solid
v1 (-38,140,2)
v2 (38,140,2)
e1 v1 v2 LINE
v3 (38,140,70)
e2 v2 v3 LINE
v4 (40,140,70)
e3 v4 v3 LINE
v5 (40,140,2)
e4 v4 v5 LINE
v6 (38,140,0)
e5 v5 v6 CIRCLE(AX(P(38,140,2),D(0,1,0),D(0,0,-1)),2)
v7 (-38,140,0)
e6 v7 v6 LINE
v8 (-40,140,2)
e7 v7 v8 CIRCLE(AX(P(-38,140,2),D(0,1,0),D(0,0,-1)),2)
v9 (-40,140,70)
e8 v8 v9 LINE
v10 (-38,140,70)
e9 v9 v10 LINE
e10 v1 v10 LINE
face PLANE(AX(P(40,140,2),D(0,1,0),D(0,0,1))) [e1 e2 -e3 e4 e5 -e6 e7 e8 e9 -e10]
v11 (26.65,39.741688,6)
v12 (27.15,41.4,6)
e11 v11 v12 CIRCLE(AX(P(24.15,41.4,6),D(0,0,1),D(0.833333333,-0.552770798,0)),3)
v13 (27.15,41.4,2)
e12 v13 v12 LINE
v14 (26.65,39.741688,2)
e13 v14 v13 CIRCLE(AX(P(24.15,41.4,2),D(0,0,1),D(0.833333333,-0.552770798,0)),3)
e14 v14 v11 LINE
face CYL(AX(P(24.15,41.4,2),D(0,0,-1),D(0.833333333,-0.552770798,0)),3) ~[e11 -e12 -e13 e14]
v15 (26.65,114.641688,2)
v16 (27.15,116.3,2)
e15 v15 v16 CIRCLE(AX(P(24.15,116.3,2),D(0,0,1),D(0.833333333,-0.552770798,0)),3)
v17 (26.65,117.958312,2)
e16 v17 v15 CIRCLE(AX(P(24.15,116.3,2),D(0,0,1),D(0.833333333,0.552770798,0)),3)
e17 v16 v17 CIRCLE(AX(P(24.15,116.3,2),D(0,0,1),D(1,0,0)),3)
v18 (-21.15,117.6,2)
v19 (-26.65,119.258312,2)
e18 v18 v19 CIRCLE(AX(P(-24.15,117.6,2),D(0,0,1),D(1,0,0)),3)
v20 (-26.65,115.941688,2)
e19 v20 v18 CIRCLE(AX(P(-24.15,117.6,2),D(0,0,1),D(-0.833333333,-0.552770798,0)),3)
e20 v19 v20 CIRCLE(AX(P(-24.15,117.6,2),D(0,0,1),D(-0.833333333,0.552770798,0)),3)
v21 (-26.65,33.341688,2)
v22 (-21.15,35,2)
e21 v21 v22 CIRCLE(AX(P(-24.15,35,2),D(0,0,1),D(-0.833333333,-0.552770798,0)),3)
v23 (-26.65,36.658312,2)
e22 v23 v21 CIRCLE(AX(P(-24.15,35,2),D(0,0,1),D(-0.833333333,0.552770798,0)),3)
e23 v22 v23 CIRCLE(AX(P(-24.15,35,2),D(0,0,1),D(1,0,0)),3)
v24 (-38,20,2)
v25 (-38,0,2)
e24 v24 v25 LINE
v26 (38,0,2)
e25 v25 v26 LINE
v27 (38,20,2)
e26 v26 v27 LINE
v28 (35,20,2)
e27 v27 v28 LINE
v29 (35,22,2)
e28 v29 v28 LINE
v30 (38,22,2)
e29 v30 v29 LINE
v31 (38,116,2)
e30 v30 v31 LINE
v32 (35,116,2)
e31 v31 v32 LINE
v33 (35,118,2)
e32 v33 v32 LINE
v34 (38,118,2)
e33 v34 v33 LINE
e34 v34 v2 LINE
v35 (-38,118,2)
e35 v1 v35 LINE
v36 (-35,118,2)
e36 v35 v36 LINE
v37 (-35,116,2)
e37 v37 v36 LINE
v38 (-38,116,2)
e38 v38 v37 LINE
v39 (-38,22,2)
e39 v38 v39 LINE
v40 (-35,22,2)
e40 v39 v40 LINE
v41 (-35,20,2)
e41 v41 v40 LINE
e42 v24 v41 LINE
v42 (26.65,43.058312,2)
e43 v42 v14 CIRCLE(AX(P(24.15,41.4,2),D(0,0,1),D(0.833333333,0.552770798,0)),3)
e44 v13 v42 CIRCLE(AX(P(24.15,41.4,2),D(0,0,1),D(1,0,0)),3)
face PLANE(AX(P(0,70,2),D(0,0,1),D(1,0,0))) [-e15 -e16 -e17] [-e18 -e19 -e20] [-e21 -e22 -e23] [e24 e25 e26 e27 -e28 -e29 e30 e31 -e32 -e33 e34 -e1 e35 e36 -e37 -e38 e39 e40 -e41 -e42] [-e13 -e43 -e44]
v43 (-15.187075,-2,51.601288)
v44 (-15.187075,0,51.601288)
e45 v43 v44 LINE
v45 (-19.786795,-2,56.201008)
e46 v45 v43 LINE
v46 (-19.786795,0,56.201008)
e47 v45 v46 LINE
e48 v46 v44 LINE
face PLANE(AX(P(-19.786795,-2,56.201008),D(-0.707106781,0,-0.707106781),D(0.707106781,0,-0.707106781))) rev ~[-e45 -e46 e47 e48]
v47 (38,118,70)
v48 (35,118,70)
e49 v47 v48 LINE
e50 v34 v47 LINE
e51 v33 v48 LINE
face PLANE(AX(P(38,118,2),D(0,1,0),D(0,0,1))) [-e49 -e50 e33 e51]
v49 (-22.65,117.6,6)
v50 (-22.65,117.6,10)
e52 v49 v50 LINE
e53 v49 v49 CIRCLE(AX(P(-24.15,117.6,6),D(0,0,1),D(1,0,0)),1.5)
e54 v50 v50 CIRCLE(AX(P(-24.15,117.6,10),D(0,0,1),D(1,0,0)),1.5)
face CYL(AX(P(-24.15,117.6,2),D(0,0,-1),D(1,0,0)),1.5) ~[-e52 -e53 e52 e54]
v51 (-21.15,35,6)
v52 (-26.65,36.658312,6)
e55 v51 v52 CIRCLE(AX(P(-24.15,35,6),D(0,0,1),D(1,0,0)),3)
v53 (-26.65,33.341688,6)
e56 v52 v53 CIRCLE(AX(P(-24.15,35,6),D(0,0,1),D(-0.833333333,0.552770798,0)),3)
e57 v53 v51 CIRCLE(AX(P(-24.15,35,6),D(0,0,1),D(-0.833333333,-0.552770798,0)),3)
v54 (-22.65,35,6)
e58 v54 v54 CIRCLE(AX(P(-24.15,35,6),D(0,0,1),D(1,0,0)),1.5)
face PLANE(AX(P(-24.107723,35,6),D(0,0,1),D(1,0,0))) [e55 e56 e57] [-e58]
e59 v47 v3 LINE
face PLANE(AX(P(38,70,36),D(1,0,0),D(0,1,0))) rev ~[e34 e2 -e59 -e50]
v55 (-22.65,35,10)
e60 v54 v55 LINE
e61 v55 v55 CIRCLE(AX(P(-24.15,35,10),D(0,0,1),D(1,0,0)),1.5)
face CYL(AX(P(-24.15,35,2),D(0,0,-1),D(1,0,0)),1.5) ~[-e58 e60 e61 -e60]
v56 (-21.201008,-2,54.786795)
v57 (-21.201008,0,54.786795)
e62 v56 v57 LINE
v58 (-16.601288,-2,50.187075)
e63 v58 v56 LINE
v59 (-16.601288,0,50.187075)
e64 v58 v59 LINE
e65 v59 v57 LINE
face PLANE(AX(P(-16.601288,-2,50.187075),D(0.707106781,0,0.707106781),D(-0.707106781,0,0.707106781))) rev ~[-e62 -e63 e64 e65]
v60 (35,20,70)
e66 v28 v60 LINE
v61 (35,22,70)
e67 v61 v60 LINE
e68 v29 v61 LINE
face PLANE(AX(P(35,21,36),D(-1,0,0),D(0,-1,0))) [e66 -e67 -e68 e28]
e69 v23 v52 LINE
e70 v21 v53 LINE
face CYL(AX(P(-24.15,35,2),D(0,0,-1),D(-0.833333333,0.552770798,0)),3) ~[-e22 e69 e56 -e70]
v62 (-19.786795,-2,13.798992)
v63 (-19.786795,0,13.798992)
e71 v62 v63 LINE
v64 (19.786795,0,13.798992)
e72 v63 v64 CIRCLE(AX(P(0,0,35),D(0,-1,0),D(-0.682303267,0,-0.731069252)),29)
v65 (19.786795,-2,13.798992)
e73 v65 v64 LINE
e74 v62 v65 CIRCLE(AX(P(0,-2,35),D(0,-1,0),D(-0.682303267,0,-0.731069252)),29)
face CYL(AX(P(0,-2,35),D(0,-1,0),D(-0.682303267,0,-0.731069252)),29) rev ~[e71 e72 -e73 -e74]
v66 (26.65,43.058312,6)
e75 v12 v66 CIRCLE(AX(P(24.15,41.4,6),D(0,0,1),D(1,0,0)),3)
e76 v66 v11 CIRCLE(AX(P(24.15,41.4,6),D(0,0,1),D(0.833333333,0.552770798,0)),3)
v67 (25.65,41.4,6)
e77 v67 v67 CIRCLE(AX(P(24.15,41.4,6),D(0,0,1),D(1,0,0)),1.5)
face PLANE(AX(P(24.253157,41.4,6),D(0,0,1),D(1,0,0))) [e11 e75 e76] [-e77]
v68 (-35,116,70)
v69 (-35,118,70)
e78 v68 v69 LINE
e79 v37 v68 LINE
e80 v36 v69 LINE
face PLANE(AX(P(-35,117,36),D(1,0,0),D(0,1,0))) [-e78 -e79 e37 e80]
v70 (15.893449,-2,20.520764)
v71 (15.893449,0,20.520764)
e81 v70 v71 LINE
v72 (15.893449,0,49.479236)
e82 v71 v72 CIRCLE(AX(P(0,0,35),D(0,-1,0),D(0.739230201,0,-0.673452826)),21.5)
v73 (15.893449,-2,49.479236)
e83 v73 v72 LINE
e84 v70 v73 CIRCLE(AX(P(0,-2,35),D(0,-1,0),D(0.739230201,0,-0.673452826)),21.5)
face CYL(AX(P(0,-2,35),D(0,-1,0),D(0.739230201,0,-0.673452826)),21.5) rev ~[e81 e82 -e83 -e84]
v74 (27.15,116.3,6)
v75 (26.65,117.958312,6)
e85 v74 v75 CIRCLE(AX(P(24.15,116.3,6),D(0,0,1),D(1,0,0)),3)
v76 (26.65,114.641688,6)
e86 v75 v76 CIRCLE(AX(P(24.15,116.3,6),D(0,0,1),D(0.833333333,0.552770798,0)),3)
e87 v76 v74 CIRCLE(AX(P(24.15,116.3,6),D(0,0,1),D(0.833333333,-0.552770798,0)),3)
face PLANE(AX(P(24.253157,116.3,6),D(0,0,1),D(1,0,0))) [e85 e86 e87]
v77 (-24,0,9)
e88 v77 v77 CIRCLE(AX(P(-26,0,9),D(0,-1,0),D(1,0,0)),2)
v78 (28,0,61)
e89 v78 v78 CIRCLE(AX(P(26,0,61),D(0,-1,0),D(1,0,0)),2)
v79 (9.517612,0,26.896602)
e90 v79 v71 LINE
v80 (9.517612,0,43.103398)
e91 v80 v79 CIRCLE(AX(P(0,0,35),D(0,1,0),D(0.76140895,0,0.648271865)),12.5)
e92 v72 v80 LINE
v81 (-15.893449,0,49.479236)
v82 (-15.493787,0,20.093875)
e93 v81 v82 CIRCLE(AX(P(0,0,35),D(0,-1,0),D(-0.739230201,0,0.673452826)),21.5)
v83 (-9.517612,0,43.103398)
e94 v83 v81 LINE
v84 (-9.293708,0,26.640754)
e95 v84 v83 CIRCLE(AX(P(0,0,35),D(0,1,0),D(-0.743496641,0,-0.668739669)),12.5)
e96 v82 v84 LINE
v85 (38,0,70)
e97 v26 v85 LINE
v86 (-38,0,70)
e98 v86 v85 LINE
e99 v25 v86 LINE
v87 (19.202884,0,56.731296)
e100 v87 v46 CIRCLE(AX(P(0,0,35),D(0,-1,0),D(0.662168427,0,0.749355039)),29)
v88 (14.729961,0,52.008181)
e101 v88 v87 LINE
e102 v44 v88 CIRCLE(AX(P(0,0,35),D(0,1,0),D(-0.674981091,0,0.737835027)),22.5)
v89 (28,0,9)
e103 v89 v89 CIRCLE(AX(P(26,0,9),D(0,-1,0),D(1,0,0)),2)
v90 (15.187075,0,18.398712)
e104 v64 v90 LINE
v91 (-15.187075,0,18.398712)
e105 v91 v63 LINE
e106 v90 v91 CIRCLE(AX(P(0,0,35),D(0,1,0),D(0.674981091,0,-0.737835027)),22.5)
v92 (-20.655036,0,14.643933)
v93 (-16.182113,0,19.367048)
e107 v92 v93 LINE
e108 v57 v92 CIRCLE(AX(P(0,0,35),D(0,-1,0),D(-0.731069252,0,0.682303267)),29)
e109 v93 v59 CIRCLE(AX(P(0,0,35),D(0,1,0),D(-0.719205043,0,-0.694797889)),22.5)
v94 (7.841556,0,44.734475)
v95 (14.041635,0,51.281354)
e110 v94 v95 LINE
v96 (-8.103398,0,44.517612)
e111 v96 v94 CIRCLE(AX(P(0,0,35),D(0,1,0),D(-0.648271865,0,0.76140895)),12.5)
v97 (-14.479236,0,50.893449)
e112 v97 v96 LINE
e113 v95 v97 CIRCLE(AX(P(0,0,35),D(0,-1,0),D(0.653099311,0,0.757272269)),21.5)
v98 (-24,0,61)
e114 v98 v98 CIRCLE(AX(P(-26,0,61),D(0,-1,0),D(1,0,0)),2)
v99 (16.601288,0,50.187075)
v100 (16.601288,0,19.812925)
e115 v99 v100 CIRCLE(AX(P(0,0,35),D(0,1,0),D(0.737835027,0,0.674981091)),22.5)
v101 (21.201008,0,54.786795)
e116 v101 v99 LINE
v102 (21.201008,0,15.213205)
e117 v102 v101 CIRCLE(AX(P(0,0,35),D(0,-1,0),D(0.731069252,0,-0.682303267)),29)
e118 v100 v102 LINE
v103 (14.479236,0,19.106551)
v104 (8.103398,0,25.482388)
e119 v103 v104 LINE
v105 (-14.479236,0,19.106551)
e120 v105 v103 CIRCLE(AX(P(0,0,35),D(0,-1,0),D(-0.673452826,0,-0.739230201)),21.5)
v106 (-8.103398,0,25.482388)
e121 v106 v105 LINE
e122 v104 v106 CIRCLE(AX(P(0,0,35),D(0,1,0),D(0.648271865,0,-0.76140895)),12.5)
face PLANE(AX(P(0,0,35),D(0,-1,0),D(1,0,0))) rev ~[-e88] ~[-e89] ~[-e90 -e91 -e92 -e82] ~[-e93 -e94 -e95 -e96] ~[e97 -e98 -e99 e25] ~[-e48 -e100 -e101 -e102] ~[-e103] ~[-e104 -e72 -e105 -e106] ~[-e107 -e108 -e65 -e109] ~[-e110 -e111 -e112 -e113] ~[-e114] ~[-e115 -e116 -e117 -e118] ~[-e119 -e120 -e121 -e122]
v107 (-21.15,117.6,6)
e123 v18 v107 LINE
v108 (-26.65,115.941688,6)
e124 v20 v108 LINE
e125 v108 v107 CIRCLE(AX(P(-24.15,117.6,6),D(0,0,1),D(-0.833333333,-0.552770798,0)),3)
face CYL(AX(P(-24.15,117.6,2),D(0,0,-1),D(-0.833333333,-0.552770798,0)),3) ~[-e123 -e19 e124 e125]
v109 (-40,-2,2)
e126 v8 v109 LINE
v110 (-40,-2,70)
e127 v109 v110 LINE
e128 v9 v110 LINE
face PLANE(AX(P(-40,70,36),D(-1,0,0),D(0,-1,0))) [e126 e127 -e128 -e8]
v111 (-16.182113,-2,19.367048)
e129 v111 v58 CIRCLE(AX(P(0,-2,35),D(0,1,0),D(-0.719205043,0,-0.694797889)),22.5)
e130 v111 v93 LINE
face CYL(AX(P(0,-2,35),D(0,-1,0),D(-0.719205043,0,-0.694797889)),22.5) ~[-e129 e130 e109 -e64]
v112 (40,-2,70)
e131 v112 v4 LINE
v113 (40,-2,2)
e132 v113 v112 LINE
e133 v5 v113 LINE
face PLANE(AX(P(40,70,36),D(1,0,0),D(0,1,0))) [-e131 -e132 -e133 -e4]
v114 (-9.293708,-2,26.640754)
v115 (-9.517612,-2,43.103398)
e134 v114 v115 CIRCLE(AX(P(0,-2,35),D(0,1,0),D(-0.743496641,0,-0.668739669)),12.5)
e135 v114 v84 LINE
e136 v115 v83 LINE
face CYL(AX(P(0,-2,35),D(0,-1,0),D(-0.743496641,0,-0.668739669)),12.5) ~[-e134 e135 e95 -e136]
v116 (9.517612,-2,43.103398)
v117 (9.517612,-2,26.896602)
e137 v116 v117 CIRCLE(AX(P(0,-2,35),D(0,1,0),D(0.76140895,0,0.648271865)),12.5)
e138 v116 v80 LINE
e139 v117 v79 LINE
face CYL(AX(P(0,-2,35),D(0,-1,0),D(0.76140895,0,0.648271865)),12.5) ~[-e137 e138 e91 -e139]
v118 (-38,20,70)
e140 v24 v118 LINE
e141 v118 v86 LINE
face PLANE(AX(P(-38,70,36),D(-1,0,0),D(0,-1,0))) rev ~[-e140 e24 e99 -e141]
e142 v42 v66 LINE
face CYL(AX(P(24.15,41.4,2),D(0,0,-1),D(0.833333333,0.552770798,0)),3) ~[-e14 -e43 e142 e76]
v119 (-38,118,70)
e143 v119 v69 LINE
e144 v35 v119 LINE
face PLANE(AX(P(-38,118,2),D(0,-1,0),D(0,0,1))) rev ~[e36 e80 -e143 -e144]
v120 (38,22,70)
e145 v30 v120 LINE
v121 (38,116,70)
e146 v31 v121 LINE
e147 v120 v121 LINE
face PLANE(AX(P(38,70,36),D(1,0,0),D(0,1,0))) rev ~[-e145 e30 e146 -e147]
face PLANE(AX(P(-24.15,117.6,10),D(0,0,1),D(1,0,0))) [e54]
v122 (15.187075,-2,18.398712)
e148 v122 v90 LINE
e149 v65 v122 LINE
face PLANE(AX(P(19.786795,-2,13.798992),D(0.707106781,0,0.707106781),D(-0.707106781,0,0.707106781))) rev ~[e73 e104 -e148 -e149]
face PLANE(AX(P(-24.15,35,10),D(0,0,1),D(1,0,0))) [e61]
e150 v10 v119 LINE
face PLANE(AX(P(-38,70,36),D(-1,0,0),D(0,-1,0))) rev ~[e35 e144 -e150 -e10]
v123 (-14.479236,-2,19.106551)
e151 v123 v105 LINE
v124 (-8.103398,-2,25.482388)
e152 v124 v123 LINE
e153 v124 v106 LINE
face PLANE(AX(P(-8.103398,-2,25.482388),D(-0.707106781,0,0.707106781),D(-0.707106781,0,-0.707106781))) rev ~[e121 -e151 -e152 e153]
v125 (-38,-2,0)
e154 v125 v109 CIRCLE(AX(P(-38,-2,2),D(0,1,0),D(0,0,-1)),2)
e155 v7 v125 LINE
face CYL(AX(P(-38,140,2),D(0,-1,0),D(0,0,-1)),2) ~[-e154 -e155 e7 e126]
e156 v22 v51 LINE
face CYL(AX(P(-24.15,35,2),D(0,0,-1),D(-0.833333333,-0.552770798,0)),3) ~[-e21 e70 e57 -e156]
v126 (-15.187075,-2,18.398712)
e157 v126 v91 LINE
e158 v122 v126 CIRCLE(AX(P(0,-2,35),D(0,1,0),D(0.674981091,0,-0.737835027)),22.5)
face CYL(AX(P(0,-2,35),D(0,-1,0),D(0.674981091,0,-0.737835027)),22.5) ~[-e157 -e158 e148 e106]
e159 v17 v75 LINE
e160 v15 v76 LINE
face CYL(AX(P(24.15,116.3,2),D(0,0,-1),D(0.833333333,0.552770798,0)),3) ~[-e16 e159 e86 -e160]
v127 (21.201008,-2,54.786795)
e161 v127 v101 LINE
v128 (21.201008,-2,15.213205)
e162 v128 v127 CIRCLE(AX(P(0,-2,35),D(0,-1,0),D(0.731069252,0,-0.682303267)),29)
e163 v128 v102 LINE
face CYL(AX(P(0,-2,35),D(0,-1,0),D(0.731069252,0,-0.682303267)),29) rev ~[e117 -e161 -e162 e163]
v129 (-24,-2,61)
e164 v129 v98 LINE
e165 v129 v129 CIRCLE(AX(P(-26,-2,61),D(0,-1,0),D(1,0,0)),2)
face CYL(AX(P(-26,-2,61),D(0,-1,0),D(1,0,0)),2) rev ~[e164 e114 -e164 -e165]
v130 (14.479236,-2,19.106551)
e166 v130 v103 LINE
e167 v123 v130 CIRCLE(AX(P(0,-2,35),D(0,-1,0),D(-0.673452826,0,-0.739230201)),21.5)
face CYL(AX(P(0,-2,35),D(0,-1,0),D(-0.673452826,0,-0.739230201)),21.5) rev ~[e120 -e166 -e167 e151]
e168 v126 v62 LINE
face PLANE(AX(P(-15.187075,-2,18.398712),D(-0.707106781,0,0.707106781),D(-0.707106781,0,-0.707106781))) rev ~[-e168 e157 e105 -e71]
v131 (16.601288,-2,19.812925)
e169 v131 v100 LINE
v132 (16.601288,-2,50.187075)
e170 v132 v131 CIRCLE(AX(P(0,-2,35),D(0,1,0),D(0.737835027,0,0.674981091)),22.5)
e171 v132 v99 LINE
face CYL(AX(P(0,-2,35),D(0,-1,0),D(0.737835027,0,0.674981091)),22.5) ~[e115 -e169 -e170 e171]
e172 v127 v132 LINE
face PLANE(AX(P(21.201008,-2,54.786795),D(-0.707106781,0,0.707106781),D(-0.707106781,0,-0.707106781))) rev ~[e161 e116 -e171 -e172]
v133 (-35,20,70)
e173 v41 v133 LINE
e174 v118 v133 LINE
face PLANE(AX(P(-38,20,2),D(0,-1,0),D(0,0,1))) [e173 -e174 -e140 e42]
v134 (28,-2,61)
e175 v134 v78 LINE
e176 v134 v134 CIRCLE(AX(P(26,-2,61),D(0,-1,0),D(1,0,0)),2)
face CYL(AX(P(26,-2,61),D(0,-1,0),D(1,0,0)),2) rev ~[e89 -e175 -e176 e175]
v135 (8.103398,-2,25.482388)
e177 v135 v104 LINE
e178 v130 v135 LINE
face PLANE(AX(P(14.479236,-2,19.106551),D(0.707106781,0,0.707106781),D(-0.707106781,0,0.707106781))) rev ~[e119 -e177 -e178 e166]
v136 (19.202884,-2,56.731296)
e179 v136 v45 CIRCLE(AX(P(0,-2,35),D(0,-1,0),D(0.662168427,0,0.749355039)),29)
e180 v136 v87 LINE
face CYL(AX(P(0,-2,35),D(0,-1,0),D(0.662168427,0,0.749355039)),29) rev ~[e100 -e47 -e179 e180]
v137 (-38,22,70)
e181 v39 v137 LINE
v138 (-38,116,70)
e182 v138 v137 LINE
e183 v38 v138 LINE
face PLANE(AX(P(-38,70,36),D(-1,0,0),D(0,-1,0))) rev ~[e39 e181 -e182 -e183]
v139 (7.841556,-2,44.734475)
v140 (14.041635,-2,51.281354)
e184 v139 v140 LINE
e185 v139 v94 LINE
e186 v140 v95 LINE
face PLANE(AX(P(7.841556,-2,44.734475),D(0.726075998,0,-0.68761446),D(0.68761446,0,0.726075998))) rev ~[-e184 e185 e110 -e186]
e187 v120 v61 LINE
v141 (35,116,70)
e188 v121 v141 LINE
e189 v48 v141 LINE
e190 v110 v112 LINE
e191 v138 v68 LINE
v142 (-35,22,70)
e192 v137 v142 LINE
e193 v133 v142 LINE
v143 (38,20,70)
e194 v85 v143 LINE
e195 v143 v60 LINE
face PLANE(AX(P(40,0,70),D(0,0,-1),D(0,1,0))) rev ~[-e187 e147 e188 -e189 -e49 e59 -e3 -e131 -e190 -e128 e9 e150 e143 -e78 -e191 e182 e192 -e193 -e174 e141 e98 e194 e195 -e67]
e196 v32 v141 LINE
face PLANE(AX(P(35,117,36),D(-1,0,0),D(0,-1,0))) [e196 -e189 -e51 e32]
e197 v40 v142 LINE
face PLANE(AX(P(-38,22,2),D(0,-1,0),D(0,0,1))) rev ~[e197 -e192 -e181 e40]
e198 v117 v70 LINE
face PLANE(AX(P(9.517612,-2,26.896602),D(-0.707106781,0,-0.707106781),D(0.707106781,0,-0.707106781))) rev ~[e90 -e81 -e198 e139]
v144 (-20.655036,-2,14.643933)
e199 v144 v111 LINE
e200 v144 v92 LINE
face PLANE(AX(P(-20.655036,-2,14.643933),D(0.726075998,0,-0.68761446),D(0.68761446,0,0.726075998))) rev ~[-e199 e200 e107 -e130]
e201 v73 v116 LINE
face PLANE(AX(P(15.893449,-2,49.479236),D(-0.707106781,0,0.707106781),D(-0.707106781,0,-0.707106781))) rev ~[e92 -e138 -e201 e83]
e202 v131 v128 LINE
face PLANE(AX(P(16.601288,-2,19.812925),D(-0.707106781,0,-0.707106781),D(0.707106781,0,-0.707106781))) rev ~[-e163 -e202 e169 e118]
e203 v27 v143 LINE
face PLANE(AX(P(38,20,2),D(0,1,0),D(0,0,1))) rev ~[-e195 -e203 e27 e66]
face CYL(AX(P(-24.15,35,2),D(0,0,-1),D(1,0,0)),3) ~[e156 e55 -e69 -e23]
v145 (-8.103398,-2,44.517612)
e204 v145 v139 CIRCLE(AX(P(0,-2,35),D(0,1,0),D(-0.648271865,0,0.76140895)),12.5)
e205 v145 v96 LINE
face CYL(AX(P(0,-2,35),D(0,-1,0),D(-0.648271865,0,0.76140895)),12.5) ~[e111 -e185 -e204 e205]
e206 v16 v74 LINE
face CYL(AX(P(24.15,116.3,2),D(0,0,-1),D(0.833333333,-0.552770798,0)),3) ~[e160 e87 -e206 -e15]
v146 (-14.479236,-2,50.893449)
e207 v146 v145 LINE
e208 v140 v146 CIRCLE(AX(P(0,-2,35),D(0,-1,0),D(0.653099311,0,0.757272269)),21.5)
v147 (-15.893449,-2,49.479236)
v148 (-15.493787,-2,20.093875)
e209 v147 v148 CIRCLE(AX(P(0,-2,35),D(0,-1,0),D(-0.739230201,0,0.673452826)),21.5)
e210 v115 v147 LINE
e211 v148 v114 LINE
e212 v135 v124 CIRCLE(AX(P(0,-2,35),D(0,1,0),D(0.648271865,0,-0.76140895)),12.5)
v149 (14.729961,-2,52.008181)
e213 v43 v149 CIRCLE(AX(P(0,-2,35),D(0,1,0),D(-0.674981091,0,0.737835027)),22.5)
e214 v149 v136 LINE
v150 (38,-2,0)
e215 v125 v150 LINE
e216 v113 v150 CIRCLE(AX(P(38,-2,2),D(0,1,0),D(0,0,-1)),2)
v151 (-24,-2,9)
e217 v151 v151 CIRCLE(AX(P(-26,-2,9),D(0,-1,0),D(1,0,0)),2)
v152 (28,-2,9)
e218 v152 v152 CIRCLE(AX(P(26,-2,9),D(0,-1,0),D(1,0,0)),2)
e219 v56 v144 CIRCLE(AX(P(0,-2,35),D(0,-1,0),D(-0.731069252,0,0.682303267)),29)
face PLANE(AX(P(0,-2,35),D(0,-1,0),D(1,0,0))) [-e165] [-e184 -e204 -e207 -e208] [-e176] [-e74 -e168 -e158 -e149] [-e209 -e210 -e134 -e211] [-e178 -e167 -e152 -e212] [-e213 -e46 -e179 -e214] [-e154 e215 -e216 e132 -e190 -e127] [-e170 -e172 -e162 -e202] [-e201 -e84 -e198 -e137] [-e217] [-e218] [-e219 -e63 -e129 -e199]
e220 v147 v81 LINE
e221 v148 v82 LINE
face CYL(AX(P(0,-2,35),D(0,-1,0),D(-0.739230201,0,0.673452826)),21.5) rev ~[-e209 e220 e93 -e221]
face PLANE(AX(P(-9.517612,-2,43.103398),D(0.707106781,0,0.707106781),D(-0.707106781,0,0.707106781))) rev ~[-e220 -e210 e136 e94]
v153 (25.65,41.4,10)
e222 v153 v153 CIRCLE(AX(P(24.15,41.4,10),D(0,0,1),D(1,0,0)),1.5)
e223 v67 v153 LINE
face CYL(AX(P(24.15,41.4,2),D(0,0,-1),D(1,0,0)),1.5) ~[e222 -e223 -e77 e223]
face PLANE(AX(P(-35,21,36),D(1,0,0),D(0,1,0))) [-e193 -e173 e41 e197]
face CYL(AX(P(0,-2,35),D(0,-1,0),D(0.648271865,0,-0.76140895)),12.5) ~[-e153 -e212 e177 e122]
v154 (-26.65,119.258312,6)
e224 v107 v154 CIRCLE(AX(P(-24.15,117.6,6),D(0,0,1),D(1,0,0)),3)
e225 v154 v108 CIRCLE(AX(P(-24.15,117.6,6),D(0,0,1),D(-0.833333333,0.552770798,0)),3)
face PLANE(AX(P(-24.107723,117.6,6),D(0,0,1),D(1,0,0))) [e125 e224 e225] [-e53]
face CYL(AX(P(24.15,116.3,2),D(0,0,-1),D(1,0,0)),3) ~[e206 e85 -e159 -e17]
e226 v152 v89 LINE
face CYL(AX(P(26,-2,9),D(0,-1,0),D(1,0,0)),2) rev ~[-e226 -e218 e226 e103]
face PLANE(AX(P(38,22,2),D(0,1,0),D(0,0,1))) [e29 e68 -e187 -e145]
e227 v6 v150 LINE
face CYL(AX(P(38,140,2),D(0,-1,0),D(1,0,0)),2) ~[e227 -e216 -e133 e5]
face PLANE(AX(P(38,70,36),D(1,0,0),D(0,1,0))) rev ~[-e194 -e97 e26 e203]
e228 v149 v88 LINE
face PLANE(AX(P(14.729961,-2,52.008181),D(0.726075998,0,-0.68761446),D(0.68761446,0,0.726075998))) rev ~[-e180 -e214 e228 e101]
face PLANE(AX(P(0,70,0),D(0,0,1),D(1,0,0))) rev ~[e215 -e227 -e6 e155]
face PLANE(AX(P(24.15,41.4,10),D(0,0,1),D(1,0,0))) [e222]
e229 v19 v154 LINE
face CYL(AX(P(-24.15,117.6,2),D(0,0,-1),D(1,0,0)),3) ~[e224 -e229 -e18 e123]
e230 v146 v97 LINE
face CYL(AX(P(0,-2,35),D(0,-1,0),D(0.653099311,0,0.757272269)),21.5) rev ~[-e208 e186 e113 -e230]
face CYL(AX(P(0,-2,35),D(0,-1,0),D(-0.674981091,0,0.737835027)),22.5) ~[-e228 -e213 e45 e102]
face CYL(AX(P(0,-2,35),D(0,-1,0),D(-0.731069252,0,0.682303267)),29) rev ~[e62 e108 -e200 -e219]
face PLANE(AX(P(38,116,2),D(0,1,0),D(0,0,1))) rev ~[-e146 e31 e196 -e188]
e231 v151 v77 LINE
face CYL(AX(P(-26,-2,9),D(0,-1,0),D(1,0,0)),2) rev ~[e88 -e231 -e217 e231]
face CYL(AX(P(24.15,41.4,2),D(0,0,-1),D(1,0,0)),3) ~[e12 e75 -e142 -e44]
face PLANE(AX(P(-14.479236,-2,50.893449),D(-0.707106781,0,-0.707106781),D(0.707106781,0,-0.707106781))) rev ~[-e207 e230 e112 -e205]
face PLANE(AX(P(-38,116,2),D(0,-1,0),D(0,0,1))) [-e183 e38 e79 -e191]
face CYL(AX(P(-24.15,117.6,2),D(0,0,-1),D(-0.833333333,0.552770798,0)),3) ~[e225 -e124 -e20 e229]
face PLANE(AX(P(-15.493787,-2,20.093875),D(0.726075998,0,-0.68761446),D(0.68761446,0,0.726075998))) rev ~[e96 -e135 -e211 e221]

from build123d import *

# Parameters (mm, degrees)
F0_W      = 80
F0_H      = 70
F1_DEPTH  = 2
F2_W      = 80
F2_H      = 140
F3_DEPTH  = 2
F4_W      = 140
F4_H      = 68
F5_DEPTH  = 2
F6_W      = 140
F6_H      = 68
F7_DEPTH  = 2
F8_R      = 2
F9_DEPTH  = 2
F10_R     = 2
F11_R     = 1.5
F12_DEPTH = 4
F13_DEPTH = 8
F14_DEPTH = 8
F15_W     = 2
F15_H     = 68
F16_DEPTH = 3
F17_W     = 2
F17_H     = 68
F18_DEPTH = 3


with BuildPart() as f1:
    # F0 (on Front) → F1 (new body)
    with BuildSketch(Plane.XZ):
        with Locations((0, 35)):
            Rectangle(F0_W, F0_H)
    extrude(amount=F1_DEPTH)

    # F2 (on Top) → F3 (join)
    with BuildSketch(Plane.XY):
        with Locations((0, 70)):
            Rectangle(F2_W, F2_H)
    extrude(amount=F3_DEPTH)

    # F4 (on face) → F5 (join)
    with BuildSketch(Plane(origin=(-40, 0, 0), x_dir=(0, -1, 0), z_dir=(-1, 0, 0))):
        with Locations((-70, 36)):
            Rectangle(F4_W, F4_H)
    extrude(amount=-F5_DEPTH)

    # F6 (on face) → F7 (join)
    with BuildSketch(Plane.YZ.offset(40)):
        with Locations((70, 36)):
            Rectangle(F6_W, F6_H)
    extrude(amount=-F7_DEPTH)

    # F8 (on face) → F9 (cut)
    with BuildSketch(Plane.XZ.offset(2)):
        with BuildLine():
            Line((-9.5176118745, 43.1033983122), (-15.8934493297, 49.4792357673))
            ThreePointArc((-15.8934493297, 49.4792357673), (-21.4980117445, 34.7076115032), (-15.4937871876, 20.0938751318))
            Line((-15.4937871876, 20.0938751318), (-9.2937080159, 26.640754142))
            ThreePointArc((-9.2937080159, 26.640754142), (-12.4988440375, 34.8300066879), (-9.5176118745, 43.1033983122))
        make_face()
        with BuildLine():
            Line((-16.6012881064, 50.1870745441), (-21.2010083131, 54.7867947507))
            ThreePointArc((-21.2010083131, 54.7867947507), (-28.997318167, 34.6056155159), (-20.6550363783, 14.6439327912))
            Line((-20.6550363783, 14.6439327912), (-16.1821134643, 19.3670475013))
            ThreePointArc((-16.1821134643, 19.3670475013), (-22.4979192675, 34.6940120382), (-16.6012881064, 50.1870745441))
        make_face()
        with Locations((-26, 61)):
            Circle(F8_R)
        with BuildLine():
            ThreePointArc((19.2028843822, 56.731296128), (-0.3943844841, 63.997318167), (-19.7867947507, 56.2010083131))
            Line((-19.7867947507, 56.2010083131), (-15.1870745441, 51.6012881064))
            ThreePointArc((-15.1870745441, 51.6012881064), (-0.3059879618, 57.4979192675), (14.7299614682, 52.0081814179))
            Line((14.7299614682, 52.0081814179), (19.2028843822, 56.731296128))
        make_face()
        with BuildLine():
            ThreePointArc((14.0416351915, 51.2813537874), (-0.2923884968, 56.4980117445), (-14.4792357673, 50.8934493297))
            Line((-14.4792357673, 50.8934493297), (-8.1033983122, 44.5176118745))
            ThreePointArc((-8.1033983122, 44.5176118745), (-0.1699933121, 47.4988440375), (7.8415560198, 44.7344747772))
            Line((7.8415560198, 44.7344747772), (14.0416351915, 51.2813537874))
        make_face()
        with BuildLine():
            Line((9.5176118745, 26.8966016878), (15.8934493297, 20.5207642327))
            ThreePointArc((15.8934493297, 20.5207642327), (21.5, 35), (15.8934493297, 49.4792357673))
            Line((15.8934493297, 49.4792357673), (9.5176118745, 43.1033983122))
            ThreePointArc((9.5176118745, 43.1033983122), (12.5, 35), (9.5176118745, 26.8966016878))
        make_face()
        with BuildLine():
            Line((21.2010083131, 54.7867947507), (16.6012881064, 50.1870745441))
            ThreePointArc((16.6012881064, 50.1870745441), (22.5, 35), (16.6012881064, 19.8129254559))
            Line((16.6012881064, 19.8129254559), (21.2010083131, 15.2132052493))
            ThreePointArc((21.2010083131, 15.2132052493), (29, 35), (21.2010083131, 54.7867947507))
        make_face()
        with Locations((26, 61)):
            Circle(F8_R)
        with Locations((26, 9)):
            Circle(F8_R)
        with BuildLine():
            Line((-15.1870745441, 18.3987118936), (-19.7867947507, 13.7989916869))
            ThreePointArc((-19.7867947507, 13.7989916869), (0, 6), (19.7867947507, 13.7989916869))
            Line((19.7867947507, 13.7989916869), (15.1870745441, 18.3987118936))
            ThreePointArc((15.1870745441, 18.3987118936), (0, 12.5), (-15.1870745441, 18.3987118936))
        make_face()
        with BuildLine():
            ThreePointArc((8.1033983122, 25.4823881255), (0, 22.5), (-8.1033983122, 25.4823881255))
            Line((-8.1033983122, 25.4823881255), (-14.4792357673, 19.1065506703))
            ThreePointArc((-14.4792357673, 19.1065506703), (0, 13.5), (14.4792357673, 19.1065506703))
            Line((14.4792357673, 19.1065506703), (8.1033983122, 25.4823881255))
        make_face()
        with Locations((-26, 9)):
            Circle(F8_R)
    extrude(amount=-F9_DEPTH, mode=Mode.SUBTRACT)

    # F10
    f10_edges = [f1.edges().sort_by_distance(p)[0] for p in [
        (40, 69, 0),
        (-40, 69, 0),
    ]]
    fillet(f10_edges, radius=F10_R)

    # F11 (on face) → F12 (join)
    with BuildSketch(Plane.XY.offset(2)):
        with BuildLine():
            ThreePointArc((-21.15, 117.6), (-23.2839745962, 120.4722813233), (-26.65, 119.2583123952))
            Line((-26.65, 119.2583123952), (-26.65, 115.9416876048))
            ThreePointArc((-26.65, 115.9416876048), (-23.2839745962, 114.7277186767), (-21.15, 117.6))
        make_face()
        with Locations((-24.15, 117.6)):
            Circle(F11_R, mode=Mode.SUBTRACT)
        with BuildLine():
            Line((26.65, 114.6416876048), (26.65, 117.9583123952))
            ThreePointArc((26.65, 117.9583123952), (21.15, 116.3), (26.65, 114.6416876048))
        make_face()
        with Locations((24.15, 116.3)):
            Circle(F11_R, mode=Mode.SUBTRACT)
        with BuildLine():
            ThreePointArc((-21.15, 35), (-23.2839745962, 37.8722813233), (-26.65, 36.6583123952))
            Line((-26.65, 36.6583123952), (-26.65, 33.3416876048))
            ThreePointArc((-26.65, 33.3416876048), (-23.2839745962, 32.1277186767), (-21.15, 35))
        make_face()
        with Locations((-24.15, 35)):
            Circle(F11_R, mode=Mode.SUBTRACT)
        with BuildLine():
            Line((26.65, 39.7416876048), (26.65, 43.0583123952))
            ThreePointArc((26.65, 43.0583123952), (21.15, 41.4), (26.65, 39.7416876048))
        make_face()
        with Locations((24.15, 41.4)):
            Circle(F11_R, mode=Mode.SUBTRACT)
        with Locations((24.15, 116.3)):
            Circle(F11_R)
        with BuildLine():
            ThreePointArc((27.15, 116.3), (27.0222813233, 117.1660254038), (26.65, 117.9583123952))
            Line((26.65, 117.9583123952), (26.65, 114.6416876048))
            ThreePointArc((26.65, 114.6416876048), (27.0222813233, 115.4339745962), (27.15, 116.3))
        make_face()
        with BuildLine():
            Line((-26.65, 115.9416876048), (-26.65, 119.2583123952))
            ThreePointArc((-26.65, 119.2583123952), (-27.15, 117.6), (-26.65, 115.9416876048))
        make_face()
        with BuildLine():
            ThreePointArc((27.15, 41.4), (27.0222813233, 42.2660254038), (26.65, 43.0583123952))
            Line((26.65, 43.0583123952), (26.65, 39.7416876048))
            ThreePointArc((26.65, 39.7416876048), (27.0222813233, 40.5339745962), (27.15, 41.4))
        make_face()
        with BuildLine():
            Line((-26.65, 33.3416876048), (-26.65, 36.6583123952))
            ThreePointArc((-26.65, 36.6583123952), (-27.15, 35), (-26.65, 33.3416876048))
        make_face()
    extrude(amount=F12_DEPTH)

    # F11 (on face) → F13 (join)
    with BuildSketch(Plane.XY.offset(2)):
        with Locations((-24.15, 35)):
            Circle(F11_R)
        with Locations((-24.15, 117.6)):
            Circle(F11_R)
    extrude(amount=F13_DEPTH)

    # F11 (on face) → F14 (join)
    with BuildSketch(Plane.XY.offset(2)):
        with Locations((24.15, 41.4)):
            Circle(F11_R)
    extrude(amount=F14_DEPTH)

    # F15 (on face) → F16 (join)
    with BuildSketch(Plane(origin=(38, 0, 0), x_dir=(0, -1, 0), z_dir=(-1, 0, 0))):
        with Locations((-117, 36)):
            Rectangle(F15_W, F15_H)
        with Locations((-21, 36)):
            Rectangle(F15_W, F15_H)
    extrude(amount=F16_DEPTH)

    # F17 (on face) → F18 (join)
    with BuildSketch(Plane.YZ.offset(-38)):
        with Locations((21, 36)):
            Rectangle(F17_W, F17_H)
        with Locations((117, 36)):
            Rectangle(F17_W, F17_H)
    extrude(amount=F18_DEPTH)


solid = f1.part
